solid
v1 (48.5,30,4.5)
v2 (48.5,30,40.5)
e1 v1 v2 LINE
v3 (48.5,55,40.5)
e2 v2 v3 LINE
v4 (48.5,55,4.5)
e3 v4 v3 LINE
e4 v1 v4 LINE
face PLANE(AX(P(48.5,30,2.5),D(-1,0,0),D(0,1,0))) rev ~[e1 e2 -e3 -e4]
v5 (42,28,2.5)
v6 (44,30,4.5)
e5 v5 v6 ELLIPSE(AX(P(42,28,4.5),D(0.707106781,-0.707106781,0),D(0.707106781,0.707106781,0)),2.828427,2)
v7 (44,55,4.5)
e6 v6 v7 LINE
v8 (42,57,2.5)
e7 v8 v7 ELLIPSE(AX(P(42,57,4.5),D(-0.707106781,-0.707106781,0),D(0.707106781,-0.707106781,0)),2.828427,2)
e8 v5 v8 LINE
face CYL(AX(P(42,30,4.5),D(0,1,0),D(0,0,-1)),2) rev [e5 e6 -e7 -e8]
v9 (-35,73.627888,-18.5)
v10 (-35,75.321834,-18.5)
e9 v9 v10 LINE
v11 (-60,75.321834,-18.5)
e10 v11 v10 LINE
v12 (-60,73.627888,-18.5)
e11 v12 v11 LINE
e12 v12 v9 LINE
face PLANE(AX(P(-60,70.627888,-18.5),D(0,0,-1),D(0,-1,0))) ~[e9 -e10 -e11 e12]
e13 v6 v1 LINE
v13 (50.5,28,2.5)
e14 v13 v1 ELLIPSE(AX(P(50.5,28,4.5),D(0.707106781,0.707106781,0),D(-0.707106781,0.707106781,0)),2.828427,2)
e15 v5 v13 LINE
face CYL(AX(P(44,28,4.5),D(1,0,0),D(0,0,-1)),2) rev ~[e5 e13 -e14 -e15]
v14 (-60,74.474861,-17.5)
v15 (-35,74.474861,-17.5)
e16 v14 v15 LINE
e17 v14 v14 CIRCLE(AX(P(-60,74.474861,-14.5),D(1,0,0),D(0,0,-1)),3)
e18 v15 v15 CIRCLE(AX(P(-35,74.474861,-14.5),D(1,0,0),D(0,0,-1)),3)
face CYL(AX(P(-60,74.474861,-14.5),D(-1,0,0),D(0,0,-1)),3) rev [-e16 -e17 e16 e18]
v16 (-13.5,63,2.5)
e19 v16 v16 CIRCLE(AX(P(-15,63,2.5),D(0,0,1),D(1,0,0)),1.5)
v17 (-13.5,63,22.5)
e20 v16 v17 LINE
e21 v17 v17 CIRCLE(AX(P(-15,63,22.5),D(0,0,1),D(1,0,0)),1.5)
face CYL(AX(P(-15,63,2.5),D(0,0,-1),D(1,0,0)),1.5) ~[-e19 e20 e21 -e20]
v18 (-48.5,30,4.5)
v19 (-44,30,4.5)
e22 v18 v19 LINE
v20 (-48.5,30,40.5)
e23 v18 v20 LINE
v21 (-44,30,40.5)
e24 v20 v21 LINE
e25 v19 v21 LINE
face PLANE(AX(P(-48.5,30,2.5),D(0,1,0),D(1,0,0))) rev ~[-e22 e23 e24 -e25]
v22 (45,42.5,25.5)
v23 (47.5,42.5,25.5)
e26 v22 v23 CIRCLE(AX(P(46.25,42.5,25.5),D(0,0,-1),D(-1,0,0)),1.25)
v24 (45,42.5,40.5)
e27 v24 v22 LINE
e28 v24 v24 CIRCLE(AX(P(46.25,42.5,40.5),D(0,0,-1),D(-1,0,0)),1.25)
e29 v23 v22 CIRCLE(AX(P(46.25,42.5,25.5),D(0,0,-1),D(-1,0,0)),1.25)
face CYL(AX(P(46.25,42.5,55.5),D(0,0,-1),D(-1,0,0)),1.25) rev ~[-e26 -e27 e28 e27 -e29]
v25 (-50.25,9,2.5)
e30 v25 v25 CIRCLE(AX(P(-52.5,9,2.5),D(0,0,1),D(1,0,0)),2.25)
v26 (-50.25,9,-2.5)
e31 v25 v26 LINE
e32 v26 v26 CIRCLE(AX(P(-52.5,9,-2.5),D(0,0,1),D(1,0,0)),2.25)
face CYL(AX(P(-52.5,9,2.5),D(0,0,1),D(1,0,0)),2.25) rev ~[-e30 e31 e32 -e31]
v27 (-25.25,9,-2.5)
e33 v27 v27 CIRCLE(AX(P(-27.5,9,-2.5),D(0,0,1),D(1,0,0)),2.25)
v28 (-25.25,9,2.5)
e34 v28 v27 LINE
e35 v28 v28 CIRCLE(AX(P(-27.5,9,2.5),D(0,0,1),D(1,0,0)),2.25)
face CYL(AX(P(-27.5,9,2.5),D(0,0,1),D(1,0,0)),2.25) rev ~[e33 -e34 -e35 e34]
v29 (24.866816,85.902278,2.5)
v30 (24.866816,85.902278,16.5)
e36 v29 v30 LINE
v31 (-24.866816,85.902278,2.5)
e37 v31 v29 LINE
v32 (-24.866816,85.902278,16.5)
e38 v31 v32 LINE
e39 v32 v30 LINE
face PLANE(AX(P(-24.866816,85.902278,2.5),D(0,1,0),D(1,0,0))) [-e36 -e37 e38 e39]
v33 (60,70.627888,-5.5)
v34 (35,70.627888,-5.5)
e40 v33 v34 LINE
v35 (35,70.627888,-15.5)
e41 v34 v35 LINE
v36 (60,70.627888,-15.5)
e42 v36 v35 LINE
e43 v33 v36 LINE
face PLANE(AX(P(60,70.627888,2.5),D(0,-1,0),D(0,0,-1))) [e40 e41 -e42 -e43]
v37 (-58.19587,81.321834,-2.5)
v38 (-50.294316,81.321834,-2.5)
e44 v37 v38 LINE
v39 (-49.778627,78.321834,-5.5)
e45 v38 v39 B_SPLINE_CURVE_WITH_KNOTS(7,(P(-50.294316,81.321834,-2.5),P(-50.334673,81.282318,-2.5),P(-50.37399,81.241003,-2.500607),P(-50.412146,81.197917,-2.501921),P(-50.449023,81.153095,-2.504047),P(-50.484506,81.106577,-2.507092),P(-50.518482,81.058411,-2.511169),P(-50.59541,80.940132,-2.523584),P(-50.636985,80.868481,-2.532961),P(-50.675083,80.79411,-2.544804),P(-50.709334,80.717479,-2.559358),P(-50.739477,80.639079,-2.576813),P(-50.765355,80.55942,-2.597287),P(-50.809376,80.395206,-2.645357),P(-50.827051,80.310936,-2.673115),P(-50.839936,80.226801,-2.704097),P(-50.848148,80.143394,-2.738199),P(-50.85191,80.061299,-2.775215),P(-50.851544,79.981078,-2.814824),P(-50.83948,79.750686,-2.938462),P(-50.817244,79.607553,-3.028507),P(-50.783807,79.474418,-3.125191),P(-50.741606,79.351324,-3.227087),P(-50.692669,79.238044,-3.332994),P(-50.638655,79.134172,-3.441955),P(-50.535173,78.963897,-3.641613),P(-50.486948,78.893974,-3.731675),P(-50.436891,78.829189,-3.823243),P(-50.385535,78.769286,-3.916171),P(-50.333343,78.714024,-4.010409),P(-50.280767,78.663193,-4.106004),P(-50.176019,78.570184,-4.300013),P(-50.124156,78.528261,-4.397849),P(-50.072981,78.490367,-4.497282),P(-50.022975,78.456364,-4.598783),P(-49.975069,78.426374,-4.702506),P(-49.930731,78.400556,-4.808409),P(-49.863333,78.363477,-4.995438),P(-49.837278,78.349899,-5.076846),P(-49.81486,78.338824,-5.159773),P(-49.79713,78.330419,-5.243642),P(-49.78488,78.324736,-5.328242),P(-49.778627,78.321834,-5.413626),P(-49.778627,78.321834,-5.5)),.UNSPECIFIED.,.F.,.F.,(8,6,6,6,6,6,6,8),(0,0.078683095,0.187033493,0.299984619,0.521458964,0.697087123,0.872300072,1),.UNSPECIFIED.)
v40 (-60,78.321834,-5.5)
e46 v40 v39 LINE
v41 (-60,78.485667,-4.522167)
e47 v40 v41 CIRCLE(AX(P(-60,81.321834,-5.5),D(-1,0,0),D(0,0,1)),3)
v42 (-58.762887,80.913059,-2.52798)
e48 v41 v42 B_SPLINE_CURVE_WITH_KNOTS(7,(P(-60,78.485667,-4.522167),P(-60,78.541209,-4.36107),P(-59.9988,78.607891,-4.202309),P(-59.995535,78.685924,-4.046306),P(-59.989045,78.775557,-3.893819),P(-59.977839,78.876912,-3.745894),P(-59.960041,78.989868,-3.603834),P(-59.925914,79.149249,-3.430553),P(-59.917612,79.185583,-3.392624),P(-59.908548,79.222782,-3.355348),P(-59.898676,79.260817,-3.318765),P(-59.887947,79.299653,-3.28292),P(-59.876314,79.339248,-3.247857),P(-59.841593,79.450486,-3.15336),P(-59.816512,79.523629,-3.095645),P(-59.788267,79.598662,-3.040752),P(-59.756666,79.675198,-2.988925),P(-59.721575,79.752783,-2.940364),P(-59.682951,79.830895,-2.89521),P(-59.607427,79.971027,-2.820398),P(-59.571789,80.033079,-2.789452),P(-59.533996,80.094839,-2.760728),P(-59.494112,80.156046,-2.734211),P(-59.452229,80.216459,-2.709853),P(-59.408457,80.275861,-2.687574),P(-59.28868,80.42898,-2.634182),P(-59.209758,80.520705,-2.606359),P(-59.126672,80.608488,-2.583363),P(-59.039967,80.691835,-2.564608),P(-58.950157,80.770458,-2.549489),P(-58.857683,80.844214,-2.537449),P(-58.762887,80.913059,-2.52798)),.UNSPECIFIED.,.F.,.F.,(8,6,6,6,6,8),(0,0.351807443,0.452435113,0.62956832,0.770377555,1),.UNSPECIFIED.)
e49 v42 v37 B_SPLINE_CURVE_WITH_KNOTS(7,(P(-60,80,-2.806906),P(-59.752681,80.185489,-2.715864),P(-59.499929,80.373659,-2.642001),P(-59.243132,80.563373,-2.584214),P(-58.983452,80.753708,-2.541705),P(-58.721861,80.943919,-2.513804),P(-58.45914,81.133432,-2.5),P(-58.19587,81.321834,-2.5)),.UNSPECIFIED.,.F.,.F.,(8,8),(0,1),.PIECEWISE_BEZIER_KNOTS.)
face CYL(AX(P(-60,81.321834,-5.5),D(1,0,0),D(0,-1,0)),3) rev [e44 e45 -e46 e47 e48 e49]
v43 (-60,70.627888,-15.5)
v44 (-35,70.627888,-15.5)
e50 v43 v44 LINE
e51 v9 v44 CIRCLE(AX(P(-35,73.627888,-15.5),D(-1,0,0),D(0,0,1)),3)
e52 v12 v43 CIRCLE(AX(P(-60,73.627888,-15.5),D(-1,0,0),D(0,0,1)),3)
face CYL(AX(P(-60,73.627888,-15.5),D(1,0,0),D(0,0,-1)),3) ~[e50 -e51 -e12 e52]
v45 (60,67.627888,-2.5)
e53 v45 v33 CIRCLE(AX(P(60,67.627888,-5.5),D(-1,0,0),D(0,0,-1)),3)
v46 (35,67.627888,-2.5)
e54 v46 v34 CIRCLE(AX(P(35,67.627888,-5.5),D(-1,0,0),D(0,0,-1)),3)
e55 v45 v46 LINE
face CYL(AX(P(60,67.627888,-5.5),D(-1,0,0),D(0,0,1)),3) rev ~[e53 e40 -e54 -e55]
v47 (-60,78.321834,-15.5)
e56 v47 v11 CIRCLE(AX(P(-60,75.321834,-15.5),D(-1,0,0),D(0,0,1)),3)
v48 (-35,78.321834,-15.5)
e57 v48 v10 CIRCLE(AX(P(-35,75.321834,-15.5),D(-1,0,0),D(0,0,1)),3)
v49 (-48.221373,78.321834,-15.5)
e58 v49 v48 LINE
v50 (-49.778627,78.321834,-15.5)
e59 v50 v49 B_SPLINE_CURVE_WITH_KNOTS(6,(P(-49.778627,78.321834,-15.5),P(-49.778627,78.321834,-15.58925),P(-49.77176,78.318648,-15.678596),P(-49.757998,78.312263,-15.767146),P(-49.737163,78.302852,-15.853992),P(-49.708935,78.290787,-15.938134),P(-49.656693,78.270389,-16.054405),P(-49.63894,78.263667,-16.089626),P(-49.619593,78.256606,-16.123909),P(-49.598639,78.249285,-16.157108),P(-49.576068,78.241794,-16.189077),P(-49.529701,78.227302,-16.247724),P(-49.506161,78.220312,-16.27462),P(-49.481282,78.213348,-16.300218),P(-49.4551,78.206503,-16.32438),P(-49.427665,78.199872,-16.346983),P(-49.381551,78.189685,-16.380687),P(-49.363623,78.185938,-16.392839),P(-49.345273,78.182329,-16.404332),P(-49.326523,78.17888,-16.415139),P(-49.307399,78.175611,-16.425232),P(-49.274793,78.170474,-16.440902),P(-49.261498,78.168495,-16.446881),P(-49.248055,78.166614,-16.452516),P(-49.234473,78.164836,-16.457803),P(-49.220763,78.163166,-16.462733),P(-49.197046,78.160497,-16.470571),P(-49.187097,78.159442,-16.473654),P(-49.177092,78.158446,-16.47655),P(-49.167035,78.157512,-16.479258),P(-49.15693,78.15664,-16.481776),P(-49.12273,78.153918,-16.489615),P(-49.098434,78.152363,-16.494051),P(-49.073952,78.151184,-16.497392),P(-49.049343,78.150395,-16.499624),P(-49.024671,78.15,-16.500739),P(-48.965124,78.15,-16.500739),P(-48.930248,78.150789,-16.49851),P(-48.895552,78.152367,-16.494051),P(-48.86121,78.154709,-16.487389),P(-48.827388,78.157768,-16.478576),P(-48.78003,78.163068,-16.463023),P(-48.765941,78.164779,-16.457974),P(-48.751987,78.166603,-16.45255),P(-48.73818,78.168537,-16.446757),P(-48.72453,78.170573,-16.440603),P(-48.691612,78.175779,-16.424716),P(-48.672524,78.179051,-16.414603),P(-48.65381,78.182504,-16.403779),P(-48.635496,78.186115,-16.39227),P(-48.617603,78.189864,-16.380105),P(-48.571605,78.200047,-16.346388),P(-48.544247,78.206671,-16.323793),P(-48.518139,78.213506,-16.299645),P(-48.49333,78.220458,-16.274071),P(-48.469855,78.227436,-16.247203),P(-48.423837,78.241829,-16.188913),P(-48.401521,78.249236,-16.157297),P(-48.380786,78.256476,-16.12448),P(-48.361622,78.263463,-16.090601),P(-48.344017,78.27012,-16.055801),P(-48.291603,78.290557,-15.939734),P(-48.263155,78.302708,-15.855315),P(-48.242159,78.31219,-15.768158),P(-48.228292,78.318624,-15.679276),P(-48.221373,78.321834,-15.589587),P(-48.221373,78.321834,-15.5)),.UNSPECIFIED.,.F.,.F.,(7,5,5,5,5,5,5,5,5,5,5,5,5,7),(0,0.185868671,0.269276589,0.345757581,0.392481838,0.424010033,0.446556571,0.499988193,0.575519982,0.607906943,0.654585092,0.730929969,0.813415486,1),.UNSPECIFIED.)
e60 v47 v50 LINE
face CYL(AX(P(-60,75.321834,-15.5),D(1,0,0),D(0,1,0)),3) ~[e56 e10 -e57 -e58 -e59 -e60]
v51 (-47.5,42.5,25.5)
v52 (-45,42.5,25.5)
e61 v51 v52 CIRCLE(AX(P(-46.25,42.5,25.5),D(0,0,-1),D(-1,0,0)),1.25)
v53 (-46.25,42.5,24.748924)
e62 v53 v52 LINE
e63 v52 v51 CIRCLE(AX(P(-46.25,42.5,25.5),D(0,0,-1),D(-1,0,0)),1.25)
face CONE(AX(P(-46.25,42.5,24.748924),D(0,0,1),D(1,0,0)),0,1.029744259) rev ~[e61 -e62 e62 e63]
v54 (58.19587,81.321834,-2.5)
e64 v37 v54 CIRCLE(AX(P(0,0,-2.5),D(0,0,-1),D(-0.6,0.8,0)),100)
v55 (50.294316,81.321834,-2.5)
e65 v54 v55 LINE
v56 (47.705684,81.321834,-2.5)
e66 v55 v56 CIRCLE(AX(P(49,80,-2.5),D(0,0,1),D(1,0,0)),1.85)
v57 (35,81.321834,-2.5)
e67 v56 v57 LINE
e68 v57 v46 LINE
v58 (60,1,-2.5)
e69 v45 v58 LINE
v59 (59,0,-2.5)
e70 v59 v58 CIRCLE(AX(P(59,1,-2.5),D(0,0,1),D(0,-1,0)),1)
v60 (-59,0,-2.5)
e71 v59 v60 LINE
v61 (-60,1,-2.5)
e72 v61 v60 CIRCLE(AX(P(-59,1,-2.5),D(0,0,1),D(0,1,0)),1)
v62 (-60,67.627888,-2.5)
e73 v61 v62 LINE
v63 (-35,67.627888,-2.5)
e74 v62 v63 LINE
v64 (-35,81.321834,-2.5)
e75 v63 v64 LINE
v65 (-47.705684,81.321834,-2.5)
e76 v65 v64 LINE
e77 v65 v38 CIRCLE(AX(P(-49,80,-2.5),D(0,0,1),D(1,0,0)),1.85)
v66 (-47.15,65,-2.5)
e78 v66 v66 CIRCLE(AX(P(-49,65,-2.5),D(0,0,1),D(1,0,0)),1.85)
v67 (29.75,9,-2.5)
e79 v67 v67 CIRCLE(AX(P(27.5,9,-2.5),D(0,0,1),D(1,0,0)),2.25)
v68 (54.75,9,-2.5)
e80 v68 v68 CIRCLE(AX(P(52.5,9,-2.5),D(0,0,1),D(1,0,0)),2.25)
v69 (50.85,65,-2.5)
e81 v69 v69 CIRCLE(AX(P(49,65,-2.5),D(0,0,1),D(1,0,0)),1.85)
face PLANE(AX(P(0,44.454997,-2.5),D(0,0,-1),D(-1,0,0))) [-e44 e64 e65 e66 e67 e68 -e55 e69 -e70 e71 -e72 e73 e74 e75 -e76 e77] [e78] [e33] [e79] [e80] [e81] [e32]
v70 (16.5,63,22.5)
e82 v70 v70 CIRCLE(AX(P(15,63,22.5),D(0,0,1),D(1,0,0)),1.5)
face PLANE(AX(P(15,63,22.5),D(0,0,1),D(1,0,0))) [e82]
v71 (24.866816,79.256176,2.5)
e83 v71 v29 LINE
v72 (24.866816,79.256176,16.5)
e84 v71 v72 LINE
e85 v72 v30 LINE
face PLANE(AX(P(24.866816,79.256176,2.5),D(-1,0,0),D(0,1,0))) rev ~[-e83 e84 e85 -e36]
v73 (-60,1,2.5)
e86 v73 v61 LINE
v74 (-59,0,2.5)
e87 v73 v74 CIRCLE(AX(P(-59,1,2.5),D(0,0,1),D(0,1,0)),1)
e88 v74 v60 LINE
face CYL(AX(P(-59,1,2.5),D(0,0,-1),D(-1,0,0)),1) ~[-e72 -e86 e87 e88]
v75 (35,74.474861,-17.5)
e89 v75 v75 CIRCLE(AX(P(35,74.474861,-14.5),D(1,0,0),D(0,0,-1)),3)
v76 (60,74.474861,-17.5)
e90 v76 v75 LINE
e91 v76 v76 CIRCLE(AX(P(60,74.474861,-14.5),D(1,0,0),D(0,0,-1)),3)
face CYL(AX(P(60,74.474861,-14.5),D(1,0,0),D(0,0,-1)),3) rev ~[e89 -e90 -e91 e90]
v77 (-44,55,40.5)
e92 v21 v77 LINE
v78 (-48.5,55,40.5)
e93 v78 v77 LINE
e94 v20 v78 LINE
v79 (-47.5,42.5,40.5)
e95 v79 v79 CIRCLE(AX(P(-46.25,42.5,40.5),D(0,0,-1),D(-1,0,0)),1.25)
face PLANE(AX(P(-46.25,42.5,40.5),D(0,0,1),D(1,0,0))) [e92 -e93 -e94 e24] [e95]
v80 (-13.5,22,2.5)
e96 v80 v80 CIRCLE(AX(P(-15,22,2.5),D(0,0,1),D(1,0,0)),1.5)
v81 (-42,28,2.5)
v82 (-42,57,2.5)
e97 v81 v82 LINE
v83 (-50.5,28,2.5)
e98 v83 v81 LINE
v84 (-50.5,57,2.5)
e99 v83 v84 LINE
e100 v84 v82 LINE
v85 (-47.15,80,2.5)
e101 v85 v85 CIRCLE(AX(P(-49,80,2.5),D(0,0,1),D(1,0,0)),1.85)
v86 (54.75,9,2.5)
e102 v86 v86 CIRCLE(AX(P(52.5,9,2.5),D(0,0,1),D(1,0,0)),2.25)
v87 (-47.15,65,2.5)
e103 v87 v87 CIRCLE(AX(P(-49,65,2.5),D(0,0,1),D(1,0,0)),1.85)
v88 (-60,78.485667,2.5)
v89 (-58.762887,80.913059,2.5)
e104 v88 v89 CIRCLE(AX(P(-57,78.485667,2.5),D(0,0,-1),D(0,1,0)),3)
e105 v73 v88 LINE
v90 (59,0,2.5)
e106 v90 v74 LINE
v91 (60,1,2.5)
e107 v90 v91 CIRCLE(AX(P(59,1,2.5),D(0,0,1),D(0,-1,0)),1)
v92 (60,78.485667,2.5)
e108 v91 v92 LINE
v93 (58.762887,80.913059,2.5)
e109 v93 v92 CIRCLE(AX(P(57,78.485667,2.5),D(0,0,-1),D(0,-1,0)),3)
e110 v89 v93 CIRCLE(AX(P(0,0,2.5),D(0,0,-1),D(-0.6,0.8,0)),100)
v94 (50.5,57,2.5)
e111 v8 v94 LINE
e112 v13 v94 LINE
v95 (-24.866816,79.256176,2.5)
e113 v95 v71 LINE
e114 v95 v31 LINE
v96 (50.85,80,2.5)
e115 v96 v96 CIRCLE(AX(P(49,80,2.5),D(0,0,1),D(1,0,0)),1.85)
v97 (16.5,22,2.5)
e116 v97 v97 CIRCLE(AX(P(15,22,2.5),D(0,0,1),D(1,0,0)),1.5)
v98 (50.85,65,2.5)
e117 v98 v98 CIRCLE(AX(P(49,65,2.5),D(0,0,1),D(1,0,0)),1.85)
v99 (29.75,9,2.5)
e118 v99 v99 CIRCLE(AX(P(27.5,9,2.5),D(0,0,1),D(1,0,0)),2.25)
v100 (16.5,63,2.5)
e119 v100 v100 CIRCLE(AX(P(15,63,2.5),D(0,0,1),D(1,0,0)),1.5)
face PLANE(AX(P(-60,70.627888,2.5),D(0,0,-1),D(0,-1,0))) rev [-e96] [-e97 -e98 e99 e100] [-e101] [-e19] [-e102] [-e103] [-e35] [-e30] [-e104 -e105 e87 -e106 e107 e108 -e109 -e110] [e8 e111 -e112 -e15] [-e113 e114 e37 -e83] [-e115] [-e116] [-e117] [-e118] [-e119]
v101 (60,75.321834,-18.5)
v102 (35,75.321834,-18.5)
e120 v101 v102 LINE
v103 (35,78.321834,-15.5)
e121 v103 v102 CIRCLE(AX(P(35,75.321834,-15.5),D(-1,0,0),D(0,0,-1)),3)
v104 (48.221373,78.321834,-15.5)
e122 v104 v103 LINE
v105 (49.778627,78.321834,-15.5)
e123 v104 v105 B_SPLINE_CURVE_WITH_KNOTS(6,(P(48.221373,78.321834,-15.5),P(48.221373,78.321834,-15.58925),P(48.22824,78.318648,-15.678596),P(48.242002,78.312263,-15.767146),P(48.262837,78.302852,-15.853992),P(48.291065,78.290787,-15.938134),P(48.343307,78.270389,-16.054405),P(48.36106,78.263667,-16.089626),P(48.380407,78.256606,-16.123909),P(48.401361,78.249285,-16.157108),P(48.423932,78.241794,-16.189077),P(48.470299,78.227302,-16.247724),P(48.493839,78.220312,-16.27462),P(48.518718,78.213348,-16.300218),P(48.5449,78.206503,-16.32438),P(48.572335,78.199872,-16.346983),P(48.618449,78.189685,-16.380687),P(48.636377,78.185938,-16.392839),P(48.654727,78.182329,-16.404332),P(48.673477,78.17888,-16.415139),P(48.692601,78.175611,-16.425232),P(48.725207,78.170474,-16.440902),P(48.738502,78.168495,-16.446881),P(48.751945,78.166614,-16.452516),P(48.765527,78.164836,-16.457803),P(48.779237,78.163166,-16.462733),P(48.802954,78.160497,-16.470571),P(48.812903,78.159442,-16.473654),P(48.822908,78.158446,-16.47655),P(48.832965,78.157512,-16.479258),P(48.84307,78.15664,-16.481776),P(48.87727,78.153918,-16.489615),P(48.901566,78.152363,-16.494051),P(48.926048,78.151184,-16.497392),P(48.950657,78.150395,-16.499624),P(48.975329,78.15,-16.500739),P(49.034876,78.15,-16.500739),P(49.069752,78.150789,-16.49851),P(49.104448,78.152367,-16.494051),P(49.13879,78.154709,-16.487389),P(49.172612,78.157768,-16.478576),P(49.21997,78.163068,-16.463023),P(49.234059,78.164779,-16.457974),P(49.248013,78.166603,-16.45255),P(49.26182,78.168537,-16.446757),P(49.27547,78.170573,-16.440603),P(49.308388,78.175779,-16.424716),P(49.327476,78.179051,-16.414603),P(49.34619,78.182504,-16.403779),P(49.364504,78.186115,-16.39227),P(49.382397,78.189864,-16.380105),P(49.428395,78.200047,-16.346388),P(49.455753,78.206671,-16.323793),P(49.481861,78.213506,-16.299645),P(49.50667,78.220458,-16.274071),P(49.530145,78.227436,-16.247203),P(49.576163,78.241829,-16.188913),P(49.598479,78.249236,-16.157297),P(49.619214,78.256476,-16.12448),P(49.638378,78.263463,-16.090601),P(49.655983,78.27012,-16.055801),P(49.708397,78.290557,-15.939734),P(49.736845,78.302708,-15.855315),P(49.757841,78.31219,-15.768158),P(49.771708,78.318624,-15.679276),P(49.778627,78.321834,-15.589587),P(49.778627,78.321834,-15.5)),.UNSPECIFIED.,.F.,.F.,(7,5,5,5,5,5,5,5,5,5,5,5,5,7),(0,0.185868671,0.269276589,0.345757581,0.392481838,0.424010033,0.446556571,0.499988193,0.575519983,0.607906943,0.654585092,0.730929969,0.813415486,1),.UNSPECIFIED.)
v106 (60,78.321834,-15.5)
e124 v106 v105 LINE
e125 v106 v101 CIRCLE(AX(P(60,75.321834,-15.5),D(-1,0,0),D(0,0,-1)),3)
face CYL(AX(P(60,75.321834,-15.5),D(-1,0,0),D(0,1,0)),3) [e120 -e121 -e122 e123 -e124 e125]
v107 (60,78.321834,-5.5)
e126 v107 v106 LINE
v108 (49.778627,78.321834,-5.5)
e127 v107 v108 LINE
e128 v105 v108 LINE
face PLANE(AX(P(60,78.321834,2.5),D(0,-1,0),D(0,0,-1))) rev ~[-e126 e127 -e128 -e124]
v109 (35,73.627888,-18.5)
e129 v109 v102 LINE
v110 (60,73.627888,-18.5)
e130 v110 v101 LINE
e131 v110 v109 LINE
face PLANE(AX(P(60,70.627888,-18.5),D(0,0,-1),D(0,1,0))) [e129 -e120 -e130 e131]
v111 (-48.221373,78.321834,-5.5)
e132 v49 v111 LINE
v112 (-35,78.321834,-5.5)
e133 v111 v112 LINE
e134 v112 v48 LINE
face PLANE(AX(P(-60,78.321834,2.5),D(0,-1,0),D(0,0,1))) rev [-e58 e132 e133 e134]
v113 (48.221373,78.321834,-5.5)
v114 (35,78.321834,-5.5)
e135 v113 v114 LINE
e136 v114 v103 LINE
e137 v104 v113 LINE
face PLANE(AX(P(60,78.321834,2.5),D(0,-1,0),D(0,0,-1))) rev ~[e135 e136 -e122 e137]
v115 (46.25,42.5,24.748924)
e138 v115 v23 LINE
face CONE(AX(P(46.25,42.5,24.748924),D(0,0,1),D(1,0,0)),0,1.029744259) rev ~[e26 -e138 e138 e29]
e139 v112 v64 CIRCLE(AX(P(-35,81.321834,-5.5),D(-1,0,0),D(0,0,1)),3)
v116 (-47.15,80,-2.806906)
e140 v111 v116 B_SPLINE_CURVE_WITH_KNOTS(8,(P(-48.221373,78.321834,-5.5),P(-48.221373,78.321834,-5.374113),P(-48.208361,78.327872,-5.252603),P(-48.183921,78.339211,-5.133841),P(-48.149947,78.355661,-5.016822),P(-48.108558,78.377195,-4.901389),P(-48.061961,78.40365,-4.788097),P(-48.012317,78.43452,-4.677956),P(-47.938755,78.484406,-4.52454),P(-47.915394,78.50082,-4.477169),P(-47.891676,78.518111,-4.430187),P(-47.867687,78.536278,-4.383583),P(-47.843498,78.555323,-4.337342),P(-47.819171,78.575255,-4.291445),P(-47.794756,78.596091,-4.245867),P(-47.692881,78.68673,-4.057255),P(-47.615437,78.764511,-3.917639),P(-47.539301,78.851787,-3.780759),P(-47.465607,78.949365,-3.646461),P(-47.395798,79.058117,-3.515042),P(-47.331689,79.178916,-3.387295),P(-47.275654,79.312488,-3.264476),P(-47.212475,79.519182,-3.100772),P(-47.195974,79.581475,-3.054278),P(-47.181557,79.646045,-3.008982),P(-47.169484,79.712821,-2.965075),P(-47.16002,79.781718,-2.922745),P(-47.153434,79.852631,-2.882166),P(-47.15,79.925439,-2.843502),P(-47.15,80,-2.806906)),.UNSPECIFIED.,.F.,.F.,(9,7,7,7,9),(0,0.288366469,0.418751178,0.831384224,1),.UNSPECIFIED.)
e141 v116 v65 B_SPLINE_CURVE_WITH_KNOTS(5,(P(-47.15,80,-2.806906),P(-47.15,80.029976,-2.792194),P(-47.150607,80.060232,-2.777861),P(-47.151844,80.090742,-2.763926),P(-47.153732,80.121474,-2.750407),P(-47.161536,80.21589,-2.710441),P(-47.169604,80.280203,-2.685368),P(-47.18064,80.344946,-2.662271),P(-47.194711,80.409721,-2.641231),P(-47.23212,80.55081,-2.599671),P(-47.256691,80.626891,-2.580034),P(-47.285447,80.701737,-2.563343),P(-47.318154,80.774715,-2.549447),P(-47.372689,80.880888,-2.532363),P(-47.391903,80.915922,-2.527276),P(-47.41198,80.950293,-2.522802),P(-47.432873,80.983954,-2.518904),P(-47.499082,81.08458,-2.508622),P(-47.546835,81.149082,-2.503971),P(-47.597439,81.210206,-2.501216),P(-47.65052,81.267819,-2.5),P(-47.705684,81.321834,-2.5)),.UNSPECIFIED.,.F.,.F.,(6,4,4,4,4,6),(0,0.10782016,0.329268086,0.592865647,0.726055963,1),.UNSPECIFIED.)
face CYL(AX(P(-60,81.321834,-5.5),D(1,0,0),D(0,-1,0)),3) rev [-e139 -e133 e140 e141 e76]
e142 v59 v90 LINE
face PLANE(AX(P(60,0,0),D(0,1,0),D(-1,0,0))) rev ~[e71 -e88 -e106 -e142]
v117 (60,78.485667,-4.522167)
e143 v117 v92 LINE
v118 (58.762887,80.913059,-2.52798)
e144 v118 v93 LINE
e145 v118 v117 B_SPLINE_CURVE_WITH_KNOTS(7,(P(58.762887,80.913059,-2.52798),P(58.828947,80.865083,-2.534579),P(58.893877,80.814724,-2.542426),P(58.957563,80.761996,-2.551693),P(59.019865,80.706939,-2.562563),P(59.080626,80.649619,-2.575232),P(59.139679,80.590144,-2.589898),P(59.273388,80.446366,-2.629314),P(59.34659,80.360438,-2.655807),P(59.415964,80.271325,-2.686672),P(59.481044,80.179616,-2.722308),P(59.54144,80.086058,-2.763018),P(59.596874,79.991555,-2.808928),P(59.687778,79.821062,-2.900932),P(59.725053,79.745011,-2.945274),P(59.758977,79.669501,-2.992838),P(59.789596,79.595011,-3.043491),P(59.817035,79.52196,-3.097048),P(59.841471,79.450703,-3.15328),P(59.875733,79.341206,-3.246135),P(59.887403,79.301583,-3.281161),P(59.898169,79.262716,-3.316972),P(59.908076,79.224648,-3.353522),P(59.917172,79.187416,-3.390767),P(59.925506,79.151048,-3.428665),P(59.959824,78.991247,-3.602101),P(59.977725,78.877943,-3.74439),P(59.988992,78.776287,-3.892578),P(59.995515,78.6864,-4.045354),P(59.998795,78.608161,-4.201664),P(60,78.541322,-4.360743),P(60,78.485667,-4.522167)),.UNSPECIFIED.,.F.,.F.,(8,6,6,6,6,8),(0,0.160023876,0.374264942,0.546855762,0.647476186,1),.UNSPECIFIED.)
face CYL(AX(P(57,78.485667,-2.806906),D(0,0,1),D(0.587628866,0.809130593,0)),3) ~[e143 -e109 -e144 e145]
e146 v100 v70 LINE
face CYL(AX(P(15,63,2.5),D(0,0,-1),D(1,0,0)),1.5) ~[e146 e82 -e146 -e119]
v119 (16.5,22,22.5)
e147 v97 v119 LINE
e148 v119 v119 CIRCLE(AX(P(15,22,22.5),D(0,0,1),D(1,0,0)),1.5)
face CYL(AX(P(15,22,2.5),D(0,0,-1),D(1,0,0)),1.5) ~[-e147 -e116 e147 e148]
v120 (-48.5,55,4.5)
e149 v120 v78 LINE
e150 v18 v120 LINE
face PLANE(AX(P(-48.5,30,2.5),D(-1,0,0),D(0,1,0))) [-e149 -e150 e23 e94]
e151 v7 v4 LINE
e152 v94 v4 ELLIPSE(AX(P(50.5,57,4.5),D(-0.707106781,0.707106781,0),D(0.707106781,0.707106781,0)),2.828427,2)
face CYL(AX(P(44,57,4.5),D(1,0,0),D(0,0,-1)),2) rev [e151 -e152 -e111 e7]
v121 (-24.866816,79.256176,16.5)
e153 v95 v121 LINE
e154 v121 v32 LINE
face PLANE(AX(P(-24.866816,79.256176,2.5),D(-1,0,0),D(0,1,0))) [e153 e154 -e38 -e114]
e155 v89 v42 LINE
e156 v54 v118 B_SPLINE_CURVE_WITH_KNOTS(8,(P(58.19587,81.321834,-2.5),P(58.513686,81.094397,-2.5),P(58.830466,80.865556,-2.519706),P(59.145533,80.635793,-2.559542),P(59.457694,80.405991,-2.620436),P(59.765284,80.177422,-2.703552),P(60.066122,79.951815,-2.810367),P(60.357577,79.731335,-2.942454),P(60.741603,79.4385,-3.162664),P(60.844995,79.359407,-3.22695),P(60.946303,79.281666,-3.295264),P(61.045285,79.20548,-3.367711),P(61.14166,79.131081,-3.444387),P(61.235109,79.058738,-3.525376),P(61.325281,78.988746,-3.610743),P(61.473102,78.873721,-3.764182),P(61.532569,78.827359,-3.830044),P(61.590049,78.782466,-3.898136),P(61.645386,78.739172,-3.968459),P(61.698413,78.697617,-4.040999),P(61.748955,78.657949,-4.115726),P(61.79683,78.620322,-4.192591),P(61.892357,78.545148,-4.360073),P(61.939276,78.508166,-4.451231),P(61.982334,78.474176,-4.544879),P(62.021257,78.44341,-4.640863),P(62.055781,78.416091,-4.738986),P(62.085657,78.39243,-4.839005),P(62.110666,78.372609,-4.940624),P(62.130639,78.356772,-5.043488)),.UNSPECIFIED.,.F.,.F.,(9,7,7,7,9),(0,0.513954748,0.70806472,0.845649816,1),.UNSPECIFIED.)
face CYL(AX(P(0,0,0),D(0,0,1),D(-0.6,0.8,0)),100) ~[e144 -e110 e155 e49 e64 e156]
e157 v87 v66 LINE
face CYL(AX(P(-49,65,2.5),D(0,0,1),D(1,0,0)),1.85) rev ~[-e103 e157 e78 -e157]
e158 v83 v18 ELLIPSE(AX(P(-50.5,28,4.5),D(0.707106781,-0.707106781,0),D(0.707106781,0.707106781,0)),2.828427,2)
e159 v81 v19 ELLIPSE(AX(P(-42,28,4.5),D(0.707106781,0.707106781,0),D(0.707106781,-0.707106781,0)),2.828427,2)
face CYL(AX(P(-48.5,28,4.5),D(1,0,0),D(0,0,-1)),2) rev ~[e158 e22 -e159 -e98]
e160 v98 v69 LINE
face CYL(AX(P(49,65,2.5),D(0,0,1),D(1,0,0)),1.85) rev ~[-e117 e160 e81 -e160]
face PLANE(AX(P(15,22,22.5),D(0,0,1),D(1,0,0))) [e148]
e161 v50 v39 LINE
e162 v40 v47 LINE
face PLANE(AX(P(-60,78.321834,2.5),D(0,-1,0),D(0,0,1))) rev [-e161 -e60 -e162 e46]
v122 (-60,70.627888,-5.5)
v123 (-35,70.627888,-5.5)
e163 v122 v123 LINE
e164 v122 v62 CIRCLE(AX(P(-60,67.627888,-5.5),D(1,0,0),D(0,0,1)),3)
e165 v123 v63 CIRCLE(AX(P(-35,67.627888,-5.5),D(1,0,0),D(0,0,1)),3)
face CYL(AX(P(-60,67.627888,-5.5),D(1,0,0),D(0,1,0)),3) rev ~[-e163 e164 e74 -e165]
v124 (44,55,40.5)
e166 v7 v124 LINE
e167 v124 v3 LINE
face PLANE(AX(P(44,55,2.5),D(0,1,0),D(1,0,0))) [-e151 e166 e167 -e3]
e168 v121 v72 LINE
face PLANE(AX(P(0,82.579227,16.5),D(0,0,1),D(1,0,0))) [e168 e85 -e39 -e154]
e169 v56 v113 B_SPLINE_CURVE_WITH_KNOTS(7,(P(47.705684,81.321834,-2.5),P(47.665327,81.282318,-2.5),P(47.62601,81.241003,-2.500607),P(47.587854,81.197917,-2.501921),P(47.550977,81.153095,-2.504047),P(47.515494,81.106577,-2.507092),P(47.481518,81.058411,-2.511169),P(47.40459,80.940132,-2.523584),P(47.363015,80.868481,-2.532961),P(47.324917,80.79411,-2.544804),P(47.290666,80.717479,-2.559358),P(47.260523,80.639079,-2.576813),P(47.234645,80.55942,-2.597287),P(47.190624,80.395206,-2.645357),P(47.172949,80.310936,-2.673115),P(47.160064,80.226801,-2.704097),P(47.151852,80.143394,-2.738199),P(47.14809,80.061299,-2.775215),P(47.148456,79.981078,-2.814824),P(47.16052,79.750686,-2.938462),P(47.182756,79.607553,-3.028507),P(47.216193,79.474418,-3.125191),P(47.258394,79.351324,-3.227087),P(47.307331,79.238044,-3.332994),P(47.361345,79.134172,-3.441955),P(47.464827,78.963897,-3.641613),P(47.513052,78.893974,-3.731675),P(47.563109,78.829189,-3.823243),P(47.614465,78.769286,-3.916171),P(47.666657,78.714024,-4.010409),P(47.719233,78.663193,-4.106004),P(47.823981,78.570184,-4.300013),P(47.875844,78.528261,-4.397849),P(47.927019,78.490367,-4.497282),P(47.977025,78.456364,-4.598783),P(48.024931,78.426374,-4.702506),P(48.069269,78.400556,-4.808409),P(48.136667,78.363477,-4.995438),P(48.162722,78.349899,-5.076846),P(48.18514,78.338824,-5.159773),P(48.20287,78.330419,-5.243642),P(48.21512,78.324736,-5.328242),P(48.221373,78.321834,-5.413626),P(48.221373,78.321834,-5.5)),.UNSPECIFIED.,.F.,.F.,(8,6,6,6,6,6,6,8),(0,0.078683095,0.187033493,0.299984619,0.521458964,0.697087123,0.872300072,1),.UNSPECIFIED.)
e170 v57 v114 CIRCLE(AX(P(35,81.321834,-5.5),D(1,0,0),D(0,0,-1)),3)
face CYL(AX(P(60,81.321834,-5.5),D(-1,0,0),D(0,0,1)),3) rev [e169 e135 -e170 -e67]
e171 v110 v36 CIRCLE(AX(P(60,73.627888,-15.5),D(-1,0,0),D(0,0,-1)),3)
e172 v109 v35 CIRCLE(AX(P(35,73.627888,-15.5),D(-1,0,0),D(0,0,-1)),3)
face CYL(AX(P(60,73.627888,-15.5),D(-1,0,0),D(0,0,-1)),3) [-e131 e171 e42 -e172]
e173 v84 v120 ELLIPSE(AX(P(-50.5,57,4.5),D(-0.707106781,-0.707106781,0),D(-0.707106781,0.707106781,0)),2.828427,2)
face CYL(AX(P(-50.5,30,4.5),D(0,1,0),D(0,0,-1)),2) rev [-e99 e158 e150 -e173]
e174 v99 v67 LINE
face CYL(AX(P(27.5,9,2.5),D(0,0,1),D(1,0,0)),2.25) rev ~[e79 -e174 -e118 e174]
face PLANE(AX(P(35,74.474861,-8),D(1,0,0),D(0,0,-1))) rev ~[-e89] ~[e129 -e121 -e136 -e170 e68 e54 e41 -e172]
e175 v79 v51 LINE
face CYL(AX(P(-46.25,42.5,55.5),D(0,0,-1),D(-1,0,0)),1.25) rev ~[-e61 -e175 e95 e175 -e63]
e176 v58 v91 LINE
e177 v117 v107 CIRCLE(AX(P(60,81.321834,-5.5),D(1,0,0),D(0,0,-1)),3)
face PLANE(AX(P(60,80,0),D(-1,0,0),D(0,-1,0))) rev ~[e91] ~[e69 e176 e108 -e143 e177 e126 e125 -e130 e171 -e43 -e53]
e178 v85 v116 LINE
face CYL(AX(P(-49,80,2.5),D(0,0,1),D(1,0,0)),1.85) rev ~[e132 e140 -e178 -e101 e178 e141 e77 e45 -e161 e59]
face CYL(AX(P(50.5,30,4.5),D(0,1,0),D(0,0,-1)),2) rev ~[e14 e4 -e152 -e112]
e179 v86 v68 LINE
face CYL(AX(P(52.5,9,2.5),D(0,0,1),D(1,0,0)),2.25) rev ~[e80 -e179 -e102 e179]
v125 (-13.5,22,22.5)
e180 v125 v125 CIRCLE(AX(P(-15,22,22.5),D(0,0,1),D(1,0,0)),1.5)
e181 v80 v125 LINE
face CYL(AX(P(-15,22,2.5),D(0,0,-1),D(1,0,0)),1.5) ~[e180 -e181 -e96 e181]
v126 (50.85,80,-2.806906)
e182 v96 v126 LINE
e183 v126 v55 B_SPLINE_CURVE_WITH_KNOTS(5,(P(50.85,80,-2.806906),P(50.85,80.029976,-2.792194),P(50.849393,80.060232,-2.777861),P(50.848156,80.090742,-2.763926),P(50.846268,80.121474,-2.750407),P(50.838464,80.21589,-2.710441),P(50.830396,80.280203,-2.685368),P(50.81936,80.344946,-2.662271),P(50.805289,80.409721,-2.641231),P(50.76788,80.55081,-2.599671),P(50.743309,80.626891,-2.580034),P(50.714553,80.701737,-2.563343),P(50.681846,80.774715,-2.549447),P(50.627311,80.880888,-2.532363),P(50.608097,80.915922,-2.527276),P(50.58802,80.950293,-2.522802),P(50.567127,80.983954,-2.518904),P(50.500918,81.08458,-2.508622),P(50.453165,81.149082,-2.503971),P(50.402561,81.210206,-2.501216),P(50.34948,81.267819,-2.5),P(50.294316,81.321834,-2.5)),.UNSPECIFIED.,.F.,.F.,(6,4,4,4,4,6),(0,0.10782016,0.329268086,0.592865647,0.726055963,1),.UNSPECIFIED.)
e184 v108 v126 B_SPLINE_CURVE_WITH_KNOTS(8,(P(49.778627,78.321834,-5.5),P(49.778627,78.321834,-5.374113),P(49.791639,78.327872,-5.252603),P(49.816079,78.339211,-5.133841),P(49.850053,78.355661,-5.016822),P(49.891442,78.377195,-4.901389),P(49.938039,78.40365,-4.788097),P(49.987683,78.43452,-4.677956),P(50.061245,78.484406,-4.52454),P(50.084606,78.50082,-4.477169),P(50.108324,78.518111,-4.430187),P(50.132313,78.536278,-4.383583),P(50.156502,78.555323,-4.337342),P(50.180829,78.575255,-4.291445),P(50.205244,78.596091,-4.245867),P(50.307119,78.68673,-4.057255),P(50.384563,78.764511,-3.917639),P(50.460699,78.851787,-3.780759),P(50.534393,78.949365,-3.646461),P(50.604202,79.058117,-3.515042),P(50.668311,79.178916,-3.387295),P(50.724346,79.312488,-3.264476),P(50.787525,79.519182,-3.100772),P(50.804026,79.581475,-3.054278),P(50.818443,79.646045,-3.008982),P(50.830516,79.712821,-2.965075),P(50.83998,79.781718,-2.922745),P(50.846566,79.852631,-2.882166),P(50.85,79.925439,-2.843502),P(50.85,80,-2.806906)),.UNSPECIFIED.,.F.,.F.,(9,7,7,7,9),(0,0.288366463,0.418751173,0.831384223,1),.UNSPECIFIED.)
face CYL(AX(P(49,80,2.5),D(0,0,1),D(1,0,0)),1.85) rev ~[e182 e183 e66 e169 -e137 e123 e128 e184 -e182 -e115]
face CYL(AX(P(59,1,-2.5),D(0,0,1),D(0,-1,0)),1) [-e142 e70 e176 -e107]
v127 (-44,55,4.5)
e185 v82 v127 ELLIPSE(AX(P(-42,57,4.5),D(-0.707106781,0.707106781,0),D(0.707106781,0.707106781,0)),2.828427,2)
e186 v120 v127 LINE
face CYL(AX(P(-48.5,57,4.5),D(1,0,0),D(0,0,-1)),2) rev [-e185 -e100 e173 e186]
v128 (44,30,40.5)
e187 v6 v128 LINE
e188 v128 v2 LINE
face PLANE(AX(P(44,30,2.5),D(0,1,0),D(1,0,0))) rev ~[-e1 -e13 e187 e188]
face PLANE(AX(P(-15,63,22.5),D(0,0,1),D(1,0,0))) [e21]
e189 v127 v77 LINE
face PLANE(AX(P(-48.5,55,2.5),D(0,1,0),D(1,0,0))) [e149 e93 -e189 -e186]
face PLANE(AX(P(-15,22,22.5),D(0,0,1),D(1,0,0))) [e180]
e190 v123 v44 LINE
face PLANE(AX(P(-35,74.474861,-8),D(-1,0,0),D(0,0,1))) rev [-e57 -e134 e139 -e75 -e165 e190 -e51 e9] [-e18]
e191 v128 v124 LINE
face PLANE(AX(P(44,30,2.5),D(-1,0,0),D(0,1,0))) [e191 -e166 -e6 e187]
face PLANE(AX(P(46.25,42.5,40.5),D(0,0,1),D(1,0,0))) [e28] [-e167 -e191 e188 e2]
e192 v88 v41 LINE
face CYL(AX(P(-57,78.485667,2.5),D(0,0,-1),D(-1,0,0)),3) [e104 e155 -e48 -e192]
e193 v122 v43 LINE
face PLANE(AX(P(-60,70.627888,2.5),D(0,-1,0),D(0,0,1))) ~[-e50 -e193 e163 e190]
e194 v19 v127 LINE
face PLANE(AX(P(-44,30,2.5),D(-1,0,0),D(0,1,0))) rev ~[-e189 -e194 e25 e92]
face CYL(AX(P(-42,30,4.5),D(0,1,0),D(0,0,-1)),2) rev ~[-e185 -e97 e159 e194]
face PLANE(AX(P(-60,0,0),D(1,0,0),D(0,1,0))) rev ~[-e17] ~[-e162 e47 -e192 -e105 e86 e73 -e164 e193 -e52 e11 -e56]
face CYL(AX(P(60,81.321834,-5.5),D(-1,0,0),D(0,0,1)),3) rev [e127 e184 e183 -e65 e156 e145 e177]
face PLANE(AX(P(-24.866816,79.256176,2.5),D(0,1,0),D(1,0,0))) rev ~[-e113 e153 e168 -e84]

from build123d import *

# Parameters (mm, degrees)
BOSS_EXTRUDE1_DEPTH             = 2.5
SKETCH3_R                       = 2.25
CUT_EXTRUDE1_DEPTH              = 6
SKETCH4_W                       = 4.5
SKETCH4_H                       = 25
BOSS_EXTRUDE2_DEPTH             = 38
FILLET2_R                       = 2
TAP_DRILL_FOR_M3X0_5_TAP1_D     = 2.5
TAP_DRILL_FOR_M3X0_5_TAP1_DEPTH = 15
TAP_DRILL_FOR_M3X0_5_TAP1_TIP   = 0.751075774
SKETCH4_3_R                     = 1.5
BOSS_EXTRUDE3_DEPTH             = 20
SKETCH8_W                       = 21
SKETCH8_H                       = 7.693946087
SKETCH8_R                       = 3
BOSS_EXTRUDE4_DEPTH             = 25
FILLET3_R                       = 3
FILLET3_OF_MIRROR1_R            = 3
SKETCH9_W                       = 49.73363163
SKETCH9_H                       = 6.646102353
BOSS_EXTRUDE5_DEPTH             = 14
FILLET5_R                       = 3
FILLET6_R                       = 1
SKETCH10_R                      = 1.85
CUT_EXTRUDE2_DEPTH              = 22


with BuildPart() as part:
    # Sketch1 → Boss-Extrude1 (new body, symmetric)
    with BuildSketch(Plane.XY):
        with BuildLine():
            Line((60, 0), (-60, 0))
            Line((-60, 0), (-60, 80))
            ThreePointArc((-60, 80), (0, 100), (60, 80))
            Line((60, 80), (60, 0))
        make_face()
    extrude(amount=BOSS_EXTRUDE1_DEPTH, both=True)

    # Sketch3 → Cut-Extrude1 (cut, through all)
    with BuildSketch(Plane.XY.offset(2.5)):
        with Locations((-52.5, 9)):
            Circle(SKETCH3_R)
        with Locations((-27.5, 9)):
            Circle(SKETCH3_R)
        with Locations((27.5, 9)):
            Circle(SKETCH3_R)
        with Locations((52.5, 9)):
            Circle(SKETCH3_R)
    extrude(amount=-CUT_EXTRUDE1_DEPTH, mode=Mode.SUBTRACT)

    # Sketch4 → Boss-Extrude2 (add)
    with BuildSketch(Plane.XY.offset(2.5)):
        with Locations((46.25, 42.5)):
            Rectangle(SKETCH4_W, SKETCH4_H)
        with Locations((-46.25, 42.5)):
            Rectangle(SKETCH4_W, SKETCH4_H)
    extrude(amount=BOSS_EXTRUDE2_DEPTH)

    # Fillet2
    fillet2_edges = [part.edges().sort_by_distance(p)[0] for p in [
        (46.25, 55, 2.5),
        (44, 42.5, 2.5),
        (48.5, 42.5, 2.5),
        (46.25, 30, 2.5),
        (-48.5, 42.5, 2.5),
        (-46.25, 30, 2.5),
        (-46.25, 55, 2.5),
        (-44, 42.5, 2.5),
    ]]
    fillet(fillet2_edges, radius=FILLET2_R)

    # Tap Drill for M3x0.5 Tap1
    with Locations(Plane.XY.offset(40.5)):
        with Locations((-46.25, 42.5), (46.25, 42.5)):
            Hole(TAP_DRILL_FOR_M3X0_5_TAP1_D / 2, depth=TAP_DRILL_FOR_M3X0_5_TAP1_DEPTH)
            with Locations((0, 0, -(TAP_DRILL_FOR_M3X0_5_TAP1_DEPTH + TAP_DRILL_FOR_M3X0_5_TAP1_TIP / 2))):  # 118° drill point
                Cone(0, TAP_DRILL_FOR_M3X0_5_TAP1_D / 2, TAP_DRILL_FOR_M3X0_5_TAP1_TIP, mode=Mode.SUBTRACT)

    # Sketch4<3> → Boss-Extrude3 (add)
    with BuildSketch(Plane.XY.offset(2.5)):
        with Locations((-15, 22)):
            Circle(SKETCH4_3_R)
        with Locations((15, 22)):
            Circle(SKETCH4_3_R)
        with Locations((-15, 63)):
            Circle(SKETCH4_3_R)
        with Locations((15, 63)):
            Circle(SKETCH4_3_R)
    extrude(amount=BOSS_EXTRUDE3_DEPTH)

    # Sketch8 → Boss-Extrude4 (add)
    with BuildSketch(Plane(origin=(60, 0, 0), x_dir=(0, 0, -1), z_dir=(1, 0, 0))):
        with Locations((8, 74.474861351)):
            Rectangle(SKETCH8_W, SKETCH8_H)
        with Locations((14.5, 74.474861351)):
            Circle(SKETCH8_R, mode=Mode.SUBTRACT)
    boss_extrude4 = extrude(amount=-BOSS_EXTRUDE4_DEPTH)

    # Fillet3
    fillet3_edges = [part.edges().sort_by_distance(p)[0] for p in [
        (47.5, 70.627888307, -2.5),
        (47.5, 78.321834394, -2.5),
        (47.5, 78.321834394, -18.5),
        (47.5, 70.627888307, -18.5),
    ]]
    fillet(fillet3_edges, radius=FILLET3_R)

    # Mirror1: Boss-Extrude4 across plane
    add(boss_extrude4.mirror(Plane(origin=(0, 0, 0), x_dir=(0, 0, 1), z_dir=(1, 0, 0))))

    # Fillet3 of Mirror1
    fillet3_of_mirror1_edges = [part.edges().sort_by_distance(p)[0] for p in [
        (-47.5, 70.627888307, -2.5),
        (-47.5, 78.321834394, -2.5),
        (-47.5, 78.321834394, -18.5),
        (-47.5, 70.627888307, -18.5),
    ]]
    fillet(fillet3_of_mirror1_edges, radius=FILLET3_OF_MIRROR1_R)

    # Sketch9 → Boss-Extrude5 (add)
    with BuildSketch(Plane.XY.offset(2.5)):
        with Locations((0, 82.579227225)):
            Rectangle(SKETCH9_W, SKETCH9_H)
    extrude(amount=BOSS_EXTRUDE5_DEPTH)

    # Fillet5
    fillet5_edges = [part.edges().sort_by_distance(p)[0] for p in [
        (60, 80, -0.153453135),
        (-60, 80, -0.153453135),
    ]]
    fillet(fillet5_edges, radius=FILLET5_R)

    # Fillet6
    fillet6_edges = [part.edges().sort_by_distance(p)[0] for p in [
        (60, 0, 0),
        (-60, 0, 0),
    ]]
    fillet(fillet6_edges, radius=FILLET6_R)

    # Sketch10 → Cut-Extrude2 (cut, through all)
    with BuildSketch(Plane.XY.offset(2.5)):
        with Locations((49, 80)):
            Circle(SKETCH10_R)
        with Locations((49, 65)):
            Circle(SKETCH10_R)
        with Locations((-49, 65)):
            Circle(SKETCH10_R)
        with Locations((-49, 80)):
            Circle(SKETCH10_R)
    extrude(amount=-CUT_EXTRUDE2_DEPTH, mode=Mode.SUBTRACT)


solid = part.part
